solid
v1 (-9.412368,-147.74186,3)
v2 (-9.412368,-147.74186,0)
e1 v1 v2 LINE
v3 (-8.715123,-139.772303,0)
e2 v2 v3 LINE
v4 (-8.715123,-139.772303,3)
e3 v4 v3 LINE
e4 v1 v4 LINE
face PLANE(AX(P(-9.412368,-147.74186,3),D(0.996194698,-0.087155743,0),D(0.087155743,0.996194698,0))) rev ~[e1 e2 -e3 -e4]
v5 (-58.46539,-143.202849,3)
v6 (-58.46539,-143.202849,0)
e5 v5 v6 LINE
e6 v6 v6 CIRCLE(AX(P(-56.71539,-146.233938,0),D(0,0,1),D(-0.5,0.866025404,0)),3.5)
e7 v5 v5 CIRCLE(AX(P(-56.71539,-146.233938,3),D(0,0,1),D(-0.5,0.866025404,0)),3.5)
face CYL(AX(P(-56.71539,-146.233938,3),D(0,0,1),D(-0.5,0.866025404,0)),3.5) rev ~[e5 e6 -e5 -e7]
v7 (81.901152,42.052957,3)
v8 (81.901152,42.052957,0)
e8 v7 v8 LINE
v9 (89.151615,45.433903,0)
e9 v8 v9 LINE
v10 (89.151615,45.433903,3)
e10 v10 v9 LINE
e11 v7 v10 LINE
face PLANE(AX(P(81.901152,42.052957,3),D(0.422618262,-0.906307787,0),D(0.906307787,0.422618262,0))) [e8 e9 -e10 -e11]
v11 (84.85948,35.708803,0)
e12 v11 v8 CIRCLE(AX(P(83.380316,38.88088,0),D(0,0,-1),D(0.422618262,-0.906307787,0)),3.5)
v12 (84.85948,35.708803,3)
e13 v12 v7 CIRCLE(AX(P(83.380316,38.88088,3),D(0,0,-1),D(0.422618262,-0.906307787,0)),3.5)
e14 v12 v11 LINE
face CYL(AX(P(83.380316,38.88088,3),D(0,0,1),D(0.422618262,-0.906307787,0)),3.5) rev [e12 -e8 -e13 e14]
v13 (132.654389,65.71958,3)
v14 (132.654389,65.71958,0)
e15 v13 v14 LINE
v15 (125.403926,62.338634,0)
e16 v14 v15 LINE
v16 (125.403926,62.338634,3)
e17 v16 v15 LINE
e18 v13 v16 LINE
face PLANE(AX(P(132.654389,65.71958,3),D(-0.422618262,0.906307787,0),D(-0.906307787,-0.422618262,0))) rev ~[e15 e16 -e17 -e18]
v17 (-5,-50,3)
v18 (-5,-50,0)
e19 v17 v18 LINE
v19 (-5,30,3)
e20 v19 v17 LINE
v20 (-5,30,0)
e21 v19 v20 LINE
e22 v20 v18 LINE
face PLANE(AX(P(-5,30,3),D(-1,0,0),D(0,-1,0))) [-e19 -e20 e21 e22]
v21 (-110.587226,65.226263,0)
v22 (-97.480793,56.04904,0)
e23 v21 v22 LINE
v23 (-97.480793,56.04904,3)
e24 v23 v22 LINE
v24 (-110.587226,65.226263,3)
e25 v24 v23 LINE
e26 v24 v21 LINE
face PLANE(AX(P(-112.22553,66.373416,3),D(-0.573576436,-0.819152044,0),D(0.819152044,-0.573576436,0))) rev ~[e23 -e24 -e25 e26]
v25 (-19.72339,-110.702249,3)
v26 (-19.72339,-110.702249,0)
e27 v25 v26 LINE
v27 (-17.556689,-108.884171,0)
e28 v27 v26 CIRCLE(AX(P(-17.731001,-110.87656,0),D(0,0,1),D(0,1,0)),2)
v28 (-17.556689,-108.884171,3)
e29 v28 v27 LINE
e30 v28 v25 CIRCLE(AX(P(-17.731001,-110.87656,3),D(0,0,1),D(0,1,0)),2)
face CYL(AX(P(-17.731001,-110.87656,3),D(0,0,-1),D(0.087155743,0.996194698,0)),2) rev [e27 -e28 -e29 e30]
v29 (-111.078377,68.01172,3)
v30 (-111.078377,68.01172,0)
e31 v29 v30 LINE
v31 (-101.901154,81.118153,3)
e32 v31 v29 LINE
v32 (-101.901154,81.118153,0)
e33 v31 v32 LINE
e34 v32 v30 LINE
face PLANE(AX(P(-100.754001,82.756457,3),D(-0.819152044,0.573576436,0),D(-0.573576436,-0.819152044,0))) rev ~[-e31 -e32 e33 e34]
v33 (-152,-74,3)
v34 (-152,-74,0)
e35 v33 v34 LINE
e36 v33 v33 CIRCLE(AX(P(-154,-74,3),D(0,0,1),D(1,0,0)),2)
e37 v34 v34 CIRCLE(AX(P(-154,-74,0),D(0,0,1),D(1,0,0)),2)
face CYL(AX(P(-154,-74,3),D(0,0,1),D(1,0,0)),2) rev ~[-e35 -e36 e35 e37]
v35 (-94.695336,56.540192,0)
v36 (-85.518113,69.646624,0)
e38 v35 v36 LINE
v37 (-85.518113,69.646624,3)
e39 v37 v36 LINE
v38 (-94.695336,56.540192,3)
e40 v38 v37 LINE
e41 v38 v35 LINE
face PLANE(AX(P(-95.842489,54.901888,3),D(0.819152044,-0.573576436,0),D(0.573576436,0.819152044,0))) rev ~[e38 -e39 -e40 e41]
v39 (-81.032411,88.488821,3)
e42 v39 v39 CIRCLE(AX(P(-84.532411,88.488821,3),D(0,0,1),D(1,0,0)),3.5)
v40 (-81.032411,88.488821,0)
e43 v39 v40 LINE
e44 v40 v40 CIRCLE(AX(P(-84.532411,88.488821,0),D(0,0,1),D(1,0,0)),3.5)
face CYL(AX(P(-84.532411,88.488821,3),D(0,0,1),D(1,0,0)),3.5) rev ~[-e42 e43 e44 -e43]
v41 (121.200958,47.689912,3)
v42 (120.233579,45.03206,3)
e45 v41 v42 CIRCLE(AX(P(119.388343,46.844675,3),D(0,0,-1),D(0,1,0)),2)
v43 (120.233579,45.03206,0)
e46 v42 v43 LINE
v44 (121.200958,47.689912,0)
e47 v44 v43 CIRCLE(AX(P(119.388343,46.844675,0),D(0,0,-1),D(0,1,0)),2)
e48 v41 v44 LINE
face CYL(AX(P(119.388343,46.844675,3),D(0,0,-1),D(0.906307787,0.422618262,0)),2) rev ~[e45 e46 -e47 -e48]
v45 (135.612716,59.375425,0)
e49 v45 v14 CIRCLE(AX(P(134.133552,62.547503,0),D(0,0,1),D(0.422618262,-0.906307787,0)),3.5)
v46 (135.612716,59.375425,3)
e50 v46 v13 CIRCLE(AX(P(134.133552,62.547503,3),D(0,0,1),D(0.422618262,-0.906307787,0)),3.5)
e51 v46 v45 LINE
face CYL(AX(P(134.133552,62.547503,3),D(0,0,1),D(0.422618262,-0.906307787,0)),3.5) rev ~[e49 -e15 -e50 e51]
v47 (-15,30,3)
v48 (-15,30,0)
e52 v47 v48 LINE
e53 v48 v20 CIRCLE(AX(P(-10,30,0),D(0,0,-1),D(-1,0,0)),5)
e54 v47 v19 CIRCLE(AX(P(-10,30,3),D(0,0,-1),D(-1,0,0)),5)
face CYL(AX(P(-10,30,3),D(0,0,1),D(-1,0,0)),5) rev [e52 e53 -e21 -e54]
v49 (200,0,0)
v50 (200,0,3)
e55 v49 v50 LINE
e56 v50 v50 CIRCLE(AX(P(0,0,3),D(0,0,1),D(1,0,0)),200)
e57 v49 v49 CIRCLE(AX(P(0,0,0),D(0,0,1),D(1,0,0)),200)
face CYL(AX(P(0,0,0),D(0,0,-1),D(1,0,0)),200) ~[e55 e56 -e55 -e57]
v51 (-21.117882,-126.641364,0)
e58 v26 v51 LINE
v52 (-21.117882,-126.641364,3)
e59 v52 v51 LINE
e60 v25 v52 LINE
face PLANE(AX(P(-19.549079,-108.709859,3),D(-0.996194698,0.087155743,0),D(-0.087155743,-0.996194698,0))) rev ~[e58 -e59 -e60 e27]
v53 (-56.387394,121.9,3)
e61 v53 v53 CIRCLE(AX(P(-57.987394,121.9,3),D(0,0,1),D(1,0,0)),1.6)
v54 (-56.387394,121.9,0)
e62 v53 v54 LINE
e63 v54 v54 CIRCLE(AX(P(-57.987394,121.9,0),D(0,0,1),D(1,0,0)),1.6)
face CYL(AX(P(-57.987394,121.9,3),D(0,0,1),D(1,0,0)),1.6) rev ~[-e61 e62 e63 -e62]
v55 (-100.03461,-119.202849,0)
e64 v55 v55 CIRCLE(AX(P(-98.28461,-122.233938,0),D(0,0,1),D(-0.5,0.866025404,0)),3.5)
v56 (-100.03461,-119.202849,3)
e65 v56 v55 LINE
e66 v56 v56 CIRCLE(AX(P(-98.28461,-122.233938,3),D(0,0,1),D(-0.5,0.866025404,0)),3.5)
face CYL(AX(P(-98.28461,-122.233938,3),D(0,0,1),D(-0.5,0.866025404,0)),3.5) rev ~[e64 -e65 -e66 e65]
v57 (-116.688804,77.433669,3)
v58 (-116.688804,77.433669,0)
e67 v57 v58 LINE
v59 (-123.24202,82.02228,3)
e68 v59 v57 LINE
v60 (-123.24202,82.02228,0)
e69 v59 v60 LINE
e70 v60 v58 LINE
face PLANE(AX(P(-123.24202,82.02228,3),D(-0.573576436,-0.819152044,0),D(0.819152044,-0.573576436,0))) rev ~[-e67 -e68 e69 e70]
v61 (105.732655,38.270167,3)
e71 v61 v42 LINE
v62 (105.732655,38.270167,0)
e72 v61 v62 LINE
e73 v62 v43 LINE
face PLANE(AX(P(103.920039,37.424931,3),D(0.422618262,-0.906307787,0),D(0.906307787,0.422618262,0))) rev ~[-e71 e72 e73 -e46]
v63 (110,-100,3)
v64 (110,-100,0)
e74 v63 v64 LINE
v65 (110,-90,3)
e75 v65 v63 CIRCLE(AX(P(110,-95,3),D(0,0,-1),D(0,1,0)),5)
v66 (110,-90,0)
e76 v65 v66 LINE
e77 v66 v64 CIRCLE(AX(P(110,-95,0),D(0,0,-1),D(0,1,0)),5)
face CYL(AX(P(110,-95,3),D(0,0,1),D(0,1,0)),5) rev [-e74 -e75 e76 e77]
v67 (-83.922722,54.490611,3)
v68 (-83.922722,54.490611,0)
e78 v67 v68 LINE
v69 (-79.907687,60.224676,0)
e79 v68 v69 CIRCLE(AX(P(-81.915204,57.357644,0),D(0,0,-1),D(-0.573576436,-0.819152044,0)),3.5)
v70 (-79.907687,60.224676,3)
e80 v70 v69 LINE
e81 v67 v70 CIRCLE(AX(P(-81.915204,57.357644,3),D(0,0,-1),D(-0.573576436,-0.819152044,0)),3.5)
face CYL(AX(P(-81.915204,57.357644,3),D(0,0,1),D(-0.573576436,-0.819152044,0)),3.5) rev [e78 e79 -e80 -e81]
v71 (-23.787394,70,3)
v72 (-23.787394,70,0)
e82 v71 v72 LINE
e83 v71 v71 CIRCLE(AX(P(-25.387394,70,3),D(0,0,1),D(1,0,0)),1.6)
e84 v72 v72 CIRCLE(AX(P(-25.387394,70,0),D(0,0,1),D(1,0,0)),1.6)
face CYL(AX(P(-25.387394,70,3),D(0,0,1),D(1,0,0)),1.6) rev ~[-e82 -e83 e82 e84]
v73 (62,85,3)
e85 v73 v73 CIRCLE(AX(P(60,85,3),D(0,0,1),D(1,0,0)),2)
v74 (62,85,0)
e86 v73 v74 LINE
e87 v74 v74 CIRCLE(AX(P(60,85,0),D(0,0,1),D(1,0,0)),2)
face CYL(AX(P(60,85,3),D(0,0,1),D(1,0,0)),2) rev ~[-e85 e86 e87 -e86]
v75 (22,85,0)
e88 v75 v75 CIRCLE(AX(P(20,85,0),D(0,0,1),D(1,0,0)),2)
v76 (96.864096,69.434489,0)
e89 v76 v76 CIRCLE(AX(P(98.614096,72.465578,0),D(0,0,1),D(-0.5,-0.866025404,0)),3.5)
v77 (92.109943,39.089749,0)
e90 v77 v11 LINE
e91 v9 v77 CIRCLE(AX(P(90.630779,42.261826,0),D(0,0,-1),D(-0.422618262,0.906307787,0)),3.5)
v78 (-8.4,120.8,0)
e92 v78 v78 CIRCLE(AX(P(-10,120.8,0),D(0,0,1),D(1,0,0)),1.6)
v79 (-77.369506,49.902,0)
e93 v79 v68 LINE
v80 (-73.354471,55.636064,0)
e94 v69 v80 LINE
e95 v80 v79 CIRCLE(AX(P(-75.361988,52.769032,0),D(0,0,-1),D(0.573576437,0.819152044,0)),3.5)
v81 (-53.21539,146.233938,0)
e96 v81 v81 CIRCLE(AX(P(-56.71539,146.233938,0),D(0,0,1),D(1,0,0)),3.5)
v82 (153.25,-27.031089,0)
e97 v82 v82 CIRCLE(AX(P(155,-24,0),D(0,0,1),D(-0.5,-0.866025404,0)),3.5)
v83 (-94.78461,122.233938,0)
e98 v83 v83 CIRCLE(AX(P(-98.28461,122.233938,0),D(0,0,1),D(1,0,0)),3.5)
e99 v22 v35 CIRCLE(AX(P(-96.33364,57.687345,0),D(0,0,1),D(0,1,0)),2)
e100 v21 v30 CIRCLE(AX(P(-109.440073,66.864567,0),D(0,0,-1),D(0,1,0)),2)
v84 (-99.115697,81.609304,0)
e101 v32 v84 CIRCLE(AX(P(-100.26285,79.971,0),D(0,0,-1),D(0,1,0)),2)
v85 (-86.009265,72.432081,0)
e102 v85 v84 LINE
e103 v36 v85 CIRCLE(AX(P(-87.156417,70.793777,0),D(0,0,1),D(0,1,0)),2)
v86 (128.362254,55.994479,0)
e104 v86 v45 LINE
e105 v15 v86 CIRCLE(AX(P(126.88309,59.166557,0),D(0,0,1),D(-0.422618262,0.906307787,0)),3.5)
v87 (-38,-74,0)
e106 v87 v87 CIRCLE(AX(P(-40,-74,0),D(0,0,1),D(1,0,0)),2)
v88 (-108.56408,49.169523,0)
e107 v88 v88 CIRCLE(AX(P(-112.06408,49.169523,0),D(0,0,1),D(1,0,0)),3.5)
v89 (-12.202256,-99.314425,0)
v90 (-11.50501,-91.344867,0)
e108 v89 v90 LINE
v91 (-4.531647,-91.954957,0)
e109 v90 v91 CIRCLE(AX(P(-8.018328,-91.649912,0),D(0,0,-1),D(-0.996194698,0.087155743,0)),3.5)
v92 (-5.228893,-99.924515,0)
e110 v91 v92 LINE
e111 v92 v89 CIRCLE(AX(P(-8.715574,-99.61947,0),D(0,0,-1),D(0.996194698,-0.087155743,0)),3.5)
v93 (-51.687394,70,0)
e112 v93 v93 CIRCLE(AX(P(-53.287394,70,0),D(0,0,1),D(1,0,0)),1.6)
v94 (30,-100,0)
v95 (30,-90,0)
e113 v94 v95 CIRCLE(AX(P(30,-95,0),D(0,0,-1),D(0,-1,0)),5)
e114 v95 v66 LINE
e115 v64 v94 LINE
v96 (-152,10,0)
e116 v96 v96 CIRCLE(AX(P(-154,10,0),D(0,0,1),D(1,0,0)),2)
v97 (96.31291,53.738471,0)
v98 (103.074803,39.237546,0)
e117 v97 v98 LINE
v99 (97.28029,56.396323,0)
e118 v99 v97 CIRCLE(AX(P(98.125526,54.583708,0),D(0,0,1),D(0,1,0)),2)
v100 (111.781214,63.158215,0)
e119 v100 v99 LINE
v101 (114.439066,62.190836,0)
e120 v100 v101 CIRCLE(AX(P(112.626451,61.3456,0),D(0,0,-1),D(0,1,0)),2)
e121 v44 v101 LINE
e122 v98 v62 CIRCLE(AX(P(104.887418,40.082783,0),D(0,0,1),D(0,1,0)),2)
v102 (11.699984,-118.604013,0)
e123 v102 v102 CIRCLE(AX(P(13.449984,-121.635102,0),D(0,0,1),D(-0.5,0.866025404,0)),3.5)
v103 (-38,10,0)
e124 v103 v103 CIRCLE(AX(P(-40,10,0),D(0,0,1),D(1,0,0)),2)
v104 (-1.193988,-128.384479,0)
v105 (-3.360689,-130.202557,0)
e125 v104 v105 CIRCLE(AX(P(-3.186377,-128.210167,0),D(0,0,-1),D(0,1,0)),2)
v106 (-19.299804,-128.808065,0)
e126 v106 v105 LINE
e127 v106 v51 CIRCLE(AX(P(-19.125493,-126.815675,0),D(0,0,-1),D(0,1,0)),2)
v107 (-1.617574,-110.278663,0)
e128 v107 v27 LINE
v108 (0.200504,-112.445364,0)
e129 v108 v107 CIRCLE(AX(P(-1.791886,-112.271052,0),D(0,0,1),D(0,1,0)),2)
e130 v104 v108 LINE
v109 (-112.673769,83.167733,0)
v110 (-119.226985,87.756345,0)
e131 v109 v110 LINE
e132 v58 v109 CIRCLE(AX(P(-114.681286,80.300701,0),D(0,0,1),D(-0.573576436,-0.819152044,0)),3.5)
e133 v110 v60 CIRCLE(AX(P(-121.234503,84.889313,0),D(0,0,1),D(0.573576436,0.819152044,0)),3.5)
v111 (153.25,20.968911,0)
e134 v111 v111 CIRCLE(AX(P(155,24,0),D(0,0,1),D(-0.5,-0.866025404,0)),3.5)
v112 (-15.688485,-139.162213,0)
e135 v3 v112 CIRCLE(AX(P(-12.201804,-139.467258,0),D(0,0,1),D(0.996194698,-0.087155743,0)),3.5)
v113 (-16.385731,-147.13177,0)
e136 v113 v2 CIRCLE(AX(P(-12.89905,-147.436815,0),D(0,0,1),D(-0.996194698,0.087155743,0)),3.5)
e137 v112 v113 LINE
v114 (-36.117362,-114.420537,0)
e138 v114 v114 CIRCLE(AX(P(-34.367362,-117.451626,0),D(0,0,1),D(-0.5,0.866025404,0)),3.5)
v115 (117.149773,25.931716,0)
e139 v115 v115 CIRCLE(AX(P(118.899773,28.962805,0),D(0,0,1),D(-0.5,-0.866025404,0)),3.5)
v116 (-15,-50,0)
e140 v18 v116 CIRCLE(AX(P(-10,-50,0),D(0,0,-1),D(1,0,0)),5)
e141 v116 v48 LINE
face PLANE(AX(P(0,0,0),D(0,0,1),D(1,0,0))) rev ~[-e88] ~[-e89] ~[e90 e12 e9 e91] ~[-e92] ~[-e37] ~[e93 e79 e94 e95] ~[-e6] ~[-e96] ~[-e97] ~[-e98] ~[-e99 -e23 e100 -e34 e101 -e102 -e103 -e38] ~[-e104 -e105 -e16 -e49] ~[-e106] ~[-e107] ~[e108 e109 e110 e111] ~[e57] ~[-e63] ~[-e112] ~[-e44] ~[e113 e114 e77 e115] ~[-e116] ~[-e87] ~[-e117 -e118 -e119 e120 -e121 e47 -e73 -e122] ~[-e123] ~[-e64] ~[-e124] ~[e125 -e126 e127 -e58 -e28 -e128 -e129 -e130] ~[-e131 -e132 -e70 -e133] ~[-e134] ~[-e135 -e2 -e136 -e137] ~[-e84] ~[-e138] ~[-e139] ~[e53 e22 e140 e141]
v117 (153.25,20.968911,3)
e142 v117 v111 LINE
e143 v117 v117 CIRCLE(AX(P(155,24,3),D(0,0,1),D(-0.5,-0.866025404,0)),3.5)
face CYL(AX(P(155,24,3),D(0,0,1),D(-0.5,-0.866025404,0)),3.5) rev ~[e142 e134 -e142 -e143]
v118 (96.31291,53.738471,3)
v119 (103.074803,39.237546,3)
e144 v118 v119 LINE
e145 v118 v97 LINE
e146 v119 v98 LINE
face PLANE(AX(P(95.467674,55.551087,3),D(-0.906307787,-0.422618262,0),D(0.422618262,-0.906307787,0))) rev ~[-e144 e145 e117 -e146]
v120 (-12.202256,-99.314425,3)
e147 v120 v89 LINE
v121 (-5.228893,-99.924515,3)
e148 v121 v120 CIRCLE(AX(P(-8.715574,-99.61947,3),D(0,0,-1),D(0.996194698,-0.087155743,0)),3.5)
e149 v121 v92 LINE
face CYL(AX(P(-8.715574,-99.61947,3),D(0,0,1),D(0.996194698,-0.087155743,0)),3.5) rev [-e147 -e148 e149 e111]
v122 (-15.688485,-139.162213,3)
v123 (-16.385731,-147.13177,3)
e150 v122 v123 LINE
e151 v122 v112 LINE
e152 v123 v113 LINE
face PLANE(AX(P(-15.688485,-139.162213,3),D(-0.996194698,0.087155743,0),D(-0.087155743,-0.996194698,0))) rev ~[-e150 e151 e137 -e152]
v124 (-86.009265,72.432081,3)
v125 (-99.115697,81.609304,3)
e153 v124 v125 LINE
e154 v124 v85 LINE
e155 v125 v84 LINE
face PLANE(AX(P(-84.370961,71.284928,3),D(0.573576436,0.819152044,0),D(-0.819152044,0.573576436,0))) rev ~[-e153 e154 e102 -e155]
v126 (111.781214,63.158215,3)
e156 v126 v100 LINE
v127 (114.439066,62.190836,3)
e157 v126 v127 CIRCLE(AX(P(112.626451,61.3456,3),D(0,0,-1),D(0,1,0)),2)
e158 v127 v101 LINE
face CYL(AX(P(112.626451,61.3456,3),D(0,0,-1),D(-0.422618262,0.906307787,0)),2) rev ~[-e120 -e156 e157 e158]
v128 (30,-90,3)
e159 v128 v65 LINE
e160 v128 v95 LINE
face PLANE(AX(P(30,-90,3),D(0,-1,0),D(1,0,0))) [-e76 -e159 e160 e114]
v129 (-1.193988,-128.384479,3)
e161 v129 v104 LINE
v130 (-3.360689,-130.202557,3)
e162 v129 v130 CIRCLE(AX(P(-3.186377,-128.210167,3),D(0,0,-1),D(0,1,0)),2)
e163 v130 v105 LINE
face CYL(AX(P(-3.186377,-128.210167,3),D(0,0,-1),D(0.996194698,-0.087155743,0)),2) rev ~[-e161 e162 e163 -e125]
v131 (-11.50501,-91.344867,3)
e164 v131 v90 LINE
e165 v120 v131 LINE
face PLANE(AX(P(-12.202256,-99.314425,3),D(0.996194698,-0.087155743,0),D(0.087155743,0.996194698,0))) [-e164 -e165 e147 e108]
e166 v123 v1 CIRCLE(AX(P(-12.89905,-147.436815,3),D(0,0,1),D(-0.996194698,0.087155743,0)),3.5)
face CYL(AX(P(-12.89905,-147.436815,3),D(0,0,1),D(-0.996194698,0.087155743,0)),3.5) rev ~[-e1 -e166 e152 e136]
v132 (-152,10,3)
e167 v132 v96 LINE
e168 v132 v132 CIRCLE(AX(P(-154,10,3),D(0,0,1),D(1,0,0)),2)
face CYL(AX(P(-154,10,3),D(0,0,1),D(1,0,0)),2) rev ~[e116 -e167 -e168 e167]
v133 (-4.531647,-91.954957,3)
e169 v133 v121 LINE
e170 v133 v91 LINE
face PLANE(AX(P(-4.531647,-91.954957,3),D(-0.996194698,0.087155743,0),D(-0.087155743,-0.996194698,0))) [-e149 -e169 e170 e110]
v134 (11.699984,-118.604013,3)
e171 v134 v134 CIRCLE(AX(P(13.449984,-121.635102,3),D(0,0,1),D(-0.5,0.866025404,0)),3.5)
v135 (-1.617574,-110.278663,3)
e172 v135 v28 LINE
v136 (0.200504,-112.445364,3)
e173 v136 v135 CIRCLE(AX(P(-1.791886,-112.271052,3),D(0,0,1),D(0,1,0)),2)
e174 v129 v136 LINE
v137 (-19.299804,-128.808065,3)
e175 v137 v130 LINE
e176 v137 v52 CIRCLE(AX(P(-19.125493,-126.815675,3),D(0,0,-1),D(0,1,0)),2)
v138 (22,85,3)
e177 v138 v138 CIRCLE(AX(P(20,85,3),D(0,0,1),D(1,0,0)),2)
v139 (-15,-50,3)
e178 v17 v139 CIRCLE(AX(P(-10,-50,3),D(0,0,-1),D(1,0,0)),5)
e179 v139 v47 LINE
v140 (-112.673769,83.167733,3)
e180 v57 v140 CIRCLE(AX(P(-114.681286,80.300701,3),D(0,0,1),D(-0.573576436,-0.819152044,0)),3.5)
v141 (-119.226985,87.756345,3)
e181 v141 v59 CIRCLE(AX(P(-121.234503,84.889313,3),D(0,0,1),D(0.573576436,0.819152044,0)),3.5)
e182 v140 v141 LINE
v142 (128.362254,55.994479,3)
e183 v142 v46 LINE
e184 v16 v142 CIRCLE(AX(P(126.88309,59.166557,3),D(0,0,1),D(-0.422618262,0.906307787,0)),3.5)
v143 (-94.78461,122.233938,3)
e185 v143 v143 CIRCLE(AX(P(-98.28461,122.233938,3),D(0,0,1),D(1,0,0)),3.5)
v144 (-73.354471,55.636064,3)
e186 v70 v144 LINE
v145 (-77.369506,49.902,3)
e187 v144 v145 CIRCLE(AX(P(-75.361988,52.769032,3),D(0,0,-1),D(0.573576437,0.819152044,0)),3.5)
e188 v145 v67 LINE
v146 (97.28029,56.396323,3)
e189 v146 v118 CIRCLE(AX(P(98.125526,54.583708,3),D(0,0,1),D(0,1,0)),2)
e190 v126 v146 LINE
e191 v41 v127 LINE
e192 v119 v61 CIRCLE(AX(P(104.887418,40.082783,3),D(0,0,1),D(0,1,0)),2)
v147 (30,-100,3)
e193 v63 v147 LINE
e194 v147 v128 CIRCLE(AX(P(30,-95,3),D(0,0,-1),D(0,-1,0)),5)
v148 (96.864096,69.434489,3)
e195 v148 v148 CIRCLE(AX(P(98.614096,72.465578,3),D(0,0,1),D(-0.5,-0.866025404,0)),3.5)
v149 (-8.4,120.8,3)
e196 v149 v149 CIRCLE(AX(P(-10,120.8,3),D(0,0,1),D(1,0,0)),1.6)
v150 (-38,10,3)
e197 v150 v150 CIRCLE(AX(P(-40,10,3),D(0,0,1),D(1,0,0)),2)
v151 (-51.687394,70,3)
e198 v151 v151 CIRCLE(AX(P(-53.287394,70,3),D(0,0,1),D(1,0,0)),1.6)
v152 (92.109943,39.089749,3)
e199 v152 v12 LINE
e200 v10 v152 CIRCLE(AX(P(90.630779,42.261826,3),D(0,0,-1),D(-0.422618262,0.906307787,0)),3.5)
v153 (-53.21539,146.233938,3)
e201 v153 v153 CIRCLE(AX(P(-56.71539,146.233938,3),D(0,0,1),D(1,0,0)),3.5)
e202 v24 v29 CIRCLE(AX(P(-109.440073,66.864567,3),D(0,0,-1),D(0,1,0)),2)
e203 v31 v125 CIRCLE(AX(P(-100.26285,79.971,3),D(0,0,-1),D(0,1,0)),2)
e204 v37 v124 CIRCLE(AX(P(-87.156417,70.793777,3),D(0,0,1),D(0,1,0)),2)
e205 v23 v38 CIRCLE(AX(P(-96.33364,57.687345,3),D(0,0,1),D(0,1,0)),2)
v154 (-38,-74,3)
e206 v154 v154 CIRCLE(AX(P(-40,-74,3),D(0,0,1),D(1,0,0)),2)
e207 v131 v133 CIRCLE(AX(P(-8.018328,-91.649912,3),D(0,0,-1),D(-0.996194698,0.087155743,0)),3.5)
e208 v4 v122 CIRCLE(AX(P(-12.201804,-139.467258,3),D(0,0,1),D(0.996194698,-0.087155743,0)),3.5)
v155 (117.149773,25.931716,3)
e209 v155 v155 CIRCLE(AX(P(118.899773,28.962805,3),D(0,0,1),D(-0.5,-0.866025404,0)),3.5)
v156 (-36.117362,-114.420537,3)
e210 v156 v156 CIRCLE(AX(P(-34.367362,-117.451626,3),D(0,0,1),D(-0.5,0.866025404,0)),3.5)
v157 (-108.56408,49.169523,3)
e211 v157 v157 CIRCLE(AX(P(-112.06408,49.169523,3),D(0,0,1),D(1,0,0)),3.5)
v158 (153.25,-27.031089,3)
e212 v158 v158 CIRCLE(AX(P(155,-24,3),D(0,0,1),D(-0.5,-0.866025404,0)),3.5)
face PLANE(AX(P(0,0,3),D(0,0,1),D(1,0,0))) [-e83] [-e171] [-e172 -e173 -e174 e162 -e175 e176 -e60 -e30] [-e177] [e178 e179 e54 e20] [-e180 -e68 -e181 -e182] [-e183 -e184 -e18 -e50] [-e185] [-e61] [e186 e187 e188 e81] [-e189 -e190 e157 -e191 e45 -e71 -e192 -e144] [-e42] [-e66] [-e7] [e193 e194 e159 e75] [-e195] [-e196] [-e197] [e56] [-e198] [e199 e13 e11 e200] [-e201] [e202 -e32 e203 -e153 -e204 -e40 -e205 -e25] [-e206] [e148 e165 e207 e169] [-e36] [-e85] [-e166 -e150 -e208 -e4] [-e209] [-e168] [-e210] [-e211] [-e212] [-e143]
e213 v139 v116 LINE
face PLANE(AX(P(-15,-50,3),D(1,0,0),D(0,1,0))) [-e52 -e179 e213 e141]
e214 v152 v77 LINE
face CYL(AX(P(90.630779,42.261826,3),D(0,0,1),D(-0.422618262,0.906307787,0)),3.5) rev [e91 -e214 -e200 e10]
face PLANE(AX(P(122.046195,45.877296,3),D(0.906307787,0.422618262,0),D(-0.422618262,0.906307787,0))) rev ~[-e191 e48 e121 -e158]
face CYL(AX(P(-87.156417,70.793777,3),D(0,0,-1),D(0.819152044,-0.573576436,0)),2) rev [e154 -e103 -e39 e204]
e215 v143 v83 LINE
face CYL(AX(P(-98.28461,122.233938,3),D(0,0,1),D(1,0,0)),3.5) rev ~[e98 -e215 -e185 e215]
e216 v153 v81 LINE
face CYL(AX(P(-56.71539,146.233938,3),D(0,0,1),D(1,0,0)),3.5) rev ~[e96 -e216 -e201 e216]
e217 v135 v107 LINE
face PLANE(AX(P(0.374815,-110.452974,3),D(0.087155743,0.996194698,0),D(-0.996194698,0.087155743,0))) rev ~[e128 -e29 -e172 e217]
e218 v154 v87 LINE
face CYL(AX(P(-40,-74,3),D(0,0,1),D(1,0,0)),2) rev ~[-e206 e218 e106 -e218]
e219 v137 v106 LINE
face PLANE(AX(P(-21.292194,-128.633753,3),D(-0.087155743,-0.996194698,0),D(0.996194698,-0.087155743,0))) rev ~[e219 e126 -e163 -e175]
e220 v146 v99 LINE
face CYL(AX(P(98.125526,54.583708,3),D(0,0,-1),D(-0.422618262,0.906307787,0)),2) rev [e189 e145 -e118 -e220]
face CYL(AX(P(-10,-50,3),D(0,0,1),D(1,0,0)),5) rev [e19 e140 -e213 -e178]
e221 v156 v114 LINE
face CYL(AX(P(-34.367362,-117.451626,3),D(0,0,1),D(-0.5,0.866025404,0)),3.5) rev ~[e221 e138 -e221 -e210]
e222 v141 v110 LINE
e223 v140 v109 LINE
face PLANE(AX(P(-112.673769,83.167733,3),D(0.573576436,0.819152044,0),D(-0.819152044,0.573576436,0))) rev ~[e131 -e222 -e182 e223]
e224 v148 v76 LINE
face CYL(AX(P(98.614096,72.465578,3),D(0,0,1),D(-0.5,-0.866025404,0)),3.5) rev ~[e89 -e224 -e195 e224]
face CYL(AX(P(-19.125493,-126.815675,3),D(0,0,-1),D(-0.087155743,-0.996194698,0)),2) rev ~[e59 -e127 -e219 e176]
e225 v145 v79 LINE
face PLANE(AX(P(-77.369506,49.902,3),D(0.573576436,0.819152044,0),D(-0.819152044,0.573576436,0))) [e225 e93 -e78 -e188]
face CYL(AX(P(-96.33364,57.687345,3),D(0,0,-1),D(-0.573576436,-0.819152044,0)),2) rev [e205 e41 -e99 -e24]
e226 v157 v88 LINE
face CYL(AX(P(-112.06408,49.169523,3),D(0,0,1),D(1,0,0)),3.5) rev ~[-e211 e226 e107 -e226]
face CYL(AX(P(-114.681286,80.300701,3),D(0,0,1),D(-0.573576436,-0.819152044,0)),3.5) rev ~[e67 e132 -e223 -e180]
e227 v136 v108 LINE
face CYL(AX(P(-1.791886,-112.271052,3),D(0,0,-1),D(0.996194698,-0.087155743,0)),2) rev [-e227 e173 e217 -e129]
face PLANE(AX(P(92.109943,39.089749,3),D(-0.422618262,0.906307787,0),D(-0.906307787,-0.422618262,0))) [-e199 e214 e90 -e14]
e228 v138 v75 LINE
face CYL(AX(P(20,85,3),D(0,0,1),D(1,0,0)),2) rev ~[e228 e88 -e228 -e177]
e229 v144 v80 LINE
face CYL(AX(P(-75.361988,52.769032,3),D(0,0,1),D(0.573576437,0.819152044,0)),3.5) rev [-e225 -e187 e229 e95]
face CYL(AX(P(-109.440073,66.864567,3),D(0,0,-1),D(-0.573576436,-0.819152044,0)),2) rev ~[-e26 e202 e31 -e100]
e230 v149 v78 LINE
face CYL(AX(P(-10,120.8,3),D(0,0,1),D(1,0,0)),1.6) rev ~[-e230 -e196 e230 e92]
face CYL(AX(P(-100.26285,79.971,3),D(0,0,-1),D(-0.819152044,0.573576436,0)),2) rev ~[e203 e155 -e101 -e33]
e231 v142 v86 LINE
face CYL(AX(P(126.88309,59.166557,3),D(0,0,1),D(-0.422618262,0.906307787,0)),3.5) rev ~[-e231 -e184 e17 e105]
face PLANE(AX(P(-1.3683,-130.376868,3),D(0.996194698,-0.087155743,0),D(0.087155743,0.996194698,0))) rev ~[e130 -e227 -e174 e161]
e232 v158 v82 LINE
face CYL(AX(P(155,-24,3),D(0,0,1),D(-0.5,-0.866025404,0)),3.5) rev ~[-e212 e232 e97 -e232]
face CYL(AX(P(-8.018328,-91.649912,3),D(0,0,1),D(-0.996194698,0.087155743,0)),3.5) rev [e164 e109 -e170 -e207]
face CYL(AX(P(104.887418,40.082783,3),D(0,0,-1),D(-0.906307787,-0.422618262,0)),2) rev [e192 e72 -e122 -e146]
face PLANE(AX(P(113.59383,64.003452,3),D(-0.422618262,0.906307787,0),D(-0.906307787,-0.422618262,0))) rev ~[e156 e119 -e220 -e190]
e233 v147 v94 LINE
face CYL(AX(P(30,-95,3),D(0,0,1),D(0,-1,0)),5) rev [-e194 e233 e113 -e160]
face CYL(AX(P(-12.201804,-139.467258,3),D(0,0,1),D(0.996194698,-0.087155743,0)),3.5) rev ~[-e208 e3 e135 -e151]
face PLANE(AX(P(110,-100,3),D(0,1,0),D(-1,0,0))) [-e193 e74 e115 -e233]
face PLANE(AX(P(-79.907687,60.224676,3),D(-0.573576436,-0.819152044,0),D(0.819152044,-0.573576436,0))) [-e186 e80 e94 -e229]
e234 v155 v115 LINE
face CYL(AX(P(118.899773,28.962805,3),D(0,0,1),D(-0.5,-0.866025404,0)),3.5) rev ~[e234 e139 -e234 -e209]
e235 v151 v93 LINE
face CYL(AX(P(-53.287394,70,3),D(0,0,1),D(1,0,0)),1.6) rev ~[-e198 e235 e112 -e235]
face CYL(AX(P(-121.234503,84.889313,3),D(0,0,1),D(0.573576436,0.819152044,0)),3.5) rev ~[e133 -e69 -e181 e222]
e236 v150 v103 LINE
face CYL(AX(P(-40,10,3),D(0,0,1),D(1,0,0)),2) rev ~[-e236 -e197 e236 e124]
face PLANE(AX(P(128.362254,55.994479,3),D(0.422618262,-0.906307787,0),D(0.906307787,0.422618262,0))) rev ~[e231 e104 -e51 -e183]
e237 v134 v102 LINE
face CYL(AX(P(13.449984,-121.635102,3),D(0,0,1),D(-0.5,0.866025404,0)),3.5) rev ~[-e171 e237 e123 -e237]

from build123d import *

# Parameters (mm, degrees)
SKETCH1_R           = 200
BOSS_EXTRUDE2_DEPTH = 3
SKETCH9_R           = 3.5
CUT_EXTRUDE8_DEPTH  = 3
CIRPATTERN5_COUNT   = 3
SKETCH15_R          = 2
CUT_EXTRUDE13_DEPTH = 3
SKETCH17_R          = 3.5
CUT_EXTRUDE15_DEPTH = 3
CIRPATTERN7_COUNT   = 3
CUT_EXTRUDE16_DEPTH = 3
CUT_EXTRUDE17_DEPTH = 3
SKETCH20_R          = 1.6
CUT_EXTRUDE18_DEPTH = 3
FILLET1_R           = 2
SKETCH21_R          = 2
CUT_EXTRUDE19_DEPTH = 3


with BuildPart() as part:
    # Sketch1 → Boss-Extrude2 (new body)
    with BuildSketch(Plane.XY):
        Circle(SKETCH1_R)
    extrude(amount=BOSS_EXTRUDE2_DEPTH)

    # Sketch9 → Cut-Extrude8 (cut)
    with BuildSketch(Plane.XY.offset(3)):
        with Locations((-56.715390309, 146.233937587)):
            Circle(SKETCH9_R)
        with Locations((-98.284609691, 122.233937587)):
            Circle(SKETCH9_R)
    cut_extrude8 = extrude(amount=-CUT_EXTRUDE8_DEPTH, mode=Mode.SUBTRACT)

    # CirPattern5: Cut-Extrude8 ×3 about axis
    cirpattern5_axis = Axis((0, 0, 0), (0, 0, 1))
    for i in range(1, CIRPATTERN5_COUNT):
        add(cut_extrude8.rotate(cirpattern5_axis, i * 360 / CIRPATTERN5_COUNT), mode=Mode.SUBTRACT)

    # Sketch15 → Cut-Extrude13 (cut)
    with BuildSketch(Plane.XY.offset(3)):
        with Locations((20, 85)):
            Circle(SKETCH15_R)
        with Locations((60, 85)):
            Circle(SKETCH15_R)
    extrude(amount=-CUT_EXTRUDE13_DEPTH, mode=Mode.SUBTRACT)

    # Sketch17 → Cut-Extrude15 (cut)
    with BuildSketch(Plane.XY.offset(3)):
        with Locations((-84.532410842, 88.488821425)):
            Circle(SKETCH17_R)
        with Locations((-112.064079787, 49.169523299)):
            Circle(SKETCH17_R)
        with Locations((-56.715390309, 146.233937587)):
            Circle(SKETCH17_R)
        with Locations((-98.284609691, 122.233937587)):
            Circle(SKETCH17_R)
        Polygon((-112.225530121, 66.373416283), (-95.842489235, 54.901887556), (-84.370960508, 71.284928442), (-100.754001394, 82.756457169), align=None)
        with BuildLine():
            Line((-79.907686902, 60.22467579), (-73.354470547, 55.636064299))
            ThreePointArc((-73.354470547, 55.636064299), (-72.49495592, 50.761514617), (-77.369505602, 49.901999989))
            Line((-77.369505602, 49.901999989), (-83.922721956, 54.49061148))
            ThreePointArc((-83.922721956, 54.49061148), (-84.782236584, 59.365161162), (-79.907686902, 60.22467579))
        make_face()
        with BuildLine():
            Line((-112.673768673, 83.167733244), (-119.226985028, 87.756344735))
            ThreePointArc((-119.226985028, 87.756344735), (-124.10153471, 86.896830107), (-123.242020082, 82.022280425))
            Line((-123.242020082, 82.022280425), (-116.688803728, 77.433668934))
            ThreePointArc((-116.688803728, 77.433668934), (-111.814254045, 78.293183562), (-112.673768673, 83.167733244))
        make_face()
    cut_extrude15 = extrude(amount=-CUT_EXTRUDE15_DEPTH, mode=Mode.SUBTRACT)

    # CirPattern7: Cut-Extrude15 ×3 about axis
    cirpattern7_axis = Axis((0, 0, 0), (0, 0, 1))
    for i in range(1, CIRPATTERN7_COUNT):
        add(cut_extrude15.rotate(cirpattern7_axis, i * 360 / CIRPATTERN7_COUNT), mode=Mode.SUBTRACT)

    # Sketch18 → Cut-Extrude16 (cut)
    with BuildSketch(Plane.XY.offset(3)):
        with BuildLine():
            Line((-5, 30), (-5, -50))
            ThreePointArc((-5, -50), (-10, -55), (-15, -50))
            Line((-15, -50), (-15, 30))
            ThreePointArc((-15, 30), (-10, 35), (-5, 30))
        make_face()
    extrude(amount=-CUT_EXTRUDE16_DEPTH, mode=Mode.SUBTRACT)

    # Sketch19 → Cut-Extrude17 (cut)
    with BuildSketch(Plane.XY.offset(3)):
        with BuildLine():
            Line((30, -90), (110, -90))
            ThreePointArc((110, -90), (115, -95), (110, -100))
            Line((110, -100), (30, -100))
            ThreePointArc((30, -100), (25, -95), (30, -90))
        make_face()
    extrude(amount=-CUT_EXTRUDE17_DEPTH, mode=Mode.SUBTRACT)

    # Sketch20 → Cut-Extrude18 (cut)
    with BuildSketch(Plane.XY.offset(3)):
        with Locations((-57.987394178, 121.9)):
            Circle(SKETCH20_R)
        with Locations((-10, 120.8)):
            Circle(SKETCH20_R)
        with Locations((-53.287394178, 70)):
            Circle(SKETCH20_R)
        with Locations((-25.387394178, 70)):
            Circle(SKETCH20_R)
    extrude(amount=-CUT_EXTRUDE18_DEPTH, mode=Mode.SUBTRACT)

    # Fillet1
    fillet1_edges = [part.edges().sort_by_distance(p)[0] for p in [
        (-1.368299576, -130.376868179, 1.5),
        (-21.292193538, -128.633753324, 1.5),
        (-19.549078683, -108.709859363, 1.5),
        (0.374815279, -110.452974218, 1.5),
        (113.593829697, 64.003451897, 1.5),
        (122.046194932, 45.877296156, 1.5),
        (103.920039191, 37.424930921, 1.5),
        (95.467673957, 55.551086662, 1.5),
        (-112.225530121, 66.373416283, 1.5),
        (-100.754001394, 82.756457169, 1.5),
        (-84.370960508, 71.284928442, 1.5),
        (-95.842489235, 54.901887556, 1.5),
    ]]
    fillet(fillet1_edges, radius=FILLET1_R)

    # Sketch21 → Cut-Extrude19 (cut)
    with BuildSketch(Plane.XY.offset(3)):
        with Locations((-154, 10)):
            Circle(SKETCH21_R)
        with Locations((-40, 10)):
            Circle(SKETCH21_R)
        with Locations((-154, -74)):
            Circle(SKETCH21_R)
        with Locations((-40, -74)):
            Circle(SKETCH21_R)
    extrude(amount=-CUT_EXTRUDE19_DEPTH, mode=Mode.SUBTRACT)


solid = part.part
